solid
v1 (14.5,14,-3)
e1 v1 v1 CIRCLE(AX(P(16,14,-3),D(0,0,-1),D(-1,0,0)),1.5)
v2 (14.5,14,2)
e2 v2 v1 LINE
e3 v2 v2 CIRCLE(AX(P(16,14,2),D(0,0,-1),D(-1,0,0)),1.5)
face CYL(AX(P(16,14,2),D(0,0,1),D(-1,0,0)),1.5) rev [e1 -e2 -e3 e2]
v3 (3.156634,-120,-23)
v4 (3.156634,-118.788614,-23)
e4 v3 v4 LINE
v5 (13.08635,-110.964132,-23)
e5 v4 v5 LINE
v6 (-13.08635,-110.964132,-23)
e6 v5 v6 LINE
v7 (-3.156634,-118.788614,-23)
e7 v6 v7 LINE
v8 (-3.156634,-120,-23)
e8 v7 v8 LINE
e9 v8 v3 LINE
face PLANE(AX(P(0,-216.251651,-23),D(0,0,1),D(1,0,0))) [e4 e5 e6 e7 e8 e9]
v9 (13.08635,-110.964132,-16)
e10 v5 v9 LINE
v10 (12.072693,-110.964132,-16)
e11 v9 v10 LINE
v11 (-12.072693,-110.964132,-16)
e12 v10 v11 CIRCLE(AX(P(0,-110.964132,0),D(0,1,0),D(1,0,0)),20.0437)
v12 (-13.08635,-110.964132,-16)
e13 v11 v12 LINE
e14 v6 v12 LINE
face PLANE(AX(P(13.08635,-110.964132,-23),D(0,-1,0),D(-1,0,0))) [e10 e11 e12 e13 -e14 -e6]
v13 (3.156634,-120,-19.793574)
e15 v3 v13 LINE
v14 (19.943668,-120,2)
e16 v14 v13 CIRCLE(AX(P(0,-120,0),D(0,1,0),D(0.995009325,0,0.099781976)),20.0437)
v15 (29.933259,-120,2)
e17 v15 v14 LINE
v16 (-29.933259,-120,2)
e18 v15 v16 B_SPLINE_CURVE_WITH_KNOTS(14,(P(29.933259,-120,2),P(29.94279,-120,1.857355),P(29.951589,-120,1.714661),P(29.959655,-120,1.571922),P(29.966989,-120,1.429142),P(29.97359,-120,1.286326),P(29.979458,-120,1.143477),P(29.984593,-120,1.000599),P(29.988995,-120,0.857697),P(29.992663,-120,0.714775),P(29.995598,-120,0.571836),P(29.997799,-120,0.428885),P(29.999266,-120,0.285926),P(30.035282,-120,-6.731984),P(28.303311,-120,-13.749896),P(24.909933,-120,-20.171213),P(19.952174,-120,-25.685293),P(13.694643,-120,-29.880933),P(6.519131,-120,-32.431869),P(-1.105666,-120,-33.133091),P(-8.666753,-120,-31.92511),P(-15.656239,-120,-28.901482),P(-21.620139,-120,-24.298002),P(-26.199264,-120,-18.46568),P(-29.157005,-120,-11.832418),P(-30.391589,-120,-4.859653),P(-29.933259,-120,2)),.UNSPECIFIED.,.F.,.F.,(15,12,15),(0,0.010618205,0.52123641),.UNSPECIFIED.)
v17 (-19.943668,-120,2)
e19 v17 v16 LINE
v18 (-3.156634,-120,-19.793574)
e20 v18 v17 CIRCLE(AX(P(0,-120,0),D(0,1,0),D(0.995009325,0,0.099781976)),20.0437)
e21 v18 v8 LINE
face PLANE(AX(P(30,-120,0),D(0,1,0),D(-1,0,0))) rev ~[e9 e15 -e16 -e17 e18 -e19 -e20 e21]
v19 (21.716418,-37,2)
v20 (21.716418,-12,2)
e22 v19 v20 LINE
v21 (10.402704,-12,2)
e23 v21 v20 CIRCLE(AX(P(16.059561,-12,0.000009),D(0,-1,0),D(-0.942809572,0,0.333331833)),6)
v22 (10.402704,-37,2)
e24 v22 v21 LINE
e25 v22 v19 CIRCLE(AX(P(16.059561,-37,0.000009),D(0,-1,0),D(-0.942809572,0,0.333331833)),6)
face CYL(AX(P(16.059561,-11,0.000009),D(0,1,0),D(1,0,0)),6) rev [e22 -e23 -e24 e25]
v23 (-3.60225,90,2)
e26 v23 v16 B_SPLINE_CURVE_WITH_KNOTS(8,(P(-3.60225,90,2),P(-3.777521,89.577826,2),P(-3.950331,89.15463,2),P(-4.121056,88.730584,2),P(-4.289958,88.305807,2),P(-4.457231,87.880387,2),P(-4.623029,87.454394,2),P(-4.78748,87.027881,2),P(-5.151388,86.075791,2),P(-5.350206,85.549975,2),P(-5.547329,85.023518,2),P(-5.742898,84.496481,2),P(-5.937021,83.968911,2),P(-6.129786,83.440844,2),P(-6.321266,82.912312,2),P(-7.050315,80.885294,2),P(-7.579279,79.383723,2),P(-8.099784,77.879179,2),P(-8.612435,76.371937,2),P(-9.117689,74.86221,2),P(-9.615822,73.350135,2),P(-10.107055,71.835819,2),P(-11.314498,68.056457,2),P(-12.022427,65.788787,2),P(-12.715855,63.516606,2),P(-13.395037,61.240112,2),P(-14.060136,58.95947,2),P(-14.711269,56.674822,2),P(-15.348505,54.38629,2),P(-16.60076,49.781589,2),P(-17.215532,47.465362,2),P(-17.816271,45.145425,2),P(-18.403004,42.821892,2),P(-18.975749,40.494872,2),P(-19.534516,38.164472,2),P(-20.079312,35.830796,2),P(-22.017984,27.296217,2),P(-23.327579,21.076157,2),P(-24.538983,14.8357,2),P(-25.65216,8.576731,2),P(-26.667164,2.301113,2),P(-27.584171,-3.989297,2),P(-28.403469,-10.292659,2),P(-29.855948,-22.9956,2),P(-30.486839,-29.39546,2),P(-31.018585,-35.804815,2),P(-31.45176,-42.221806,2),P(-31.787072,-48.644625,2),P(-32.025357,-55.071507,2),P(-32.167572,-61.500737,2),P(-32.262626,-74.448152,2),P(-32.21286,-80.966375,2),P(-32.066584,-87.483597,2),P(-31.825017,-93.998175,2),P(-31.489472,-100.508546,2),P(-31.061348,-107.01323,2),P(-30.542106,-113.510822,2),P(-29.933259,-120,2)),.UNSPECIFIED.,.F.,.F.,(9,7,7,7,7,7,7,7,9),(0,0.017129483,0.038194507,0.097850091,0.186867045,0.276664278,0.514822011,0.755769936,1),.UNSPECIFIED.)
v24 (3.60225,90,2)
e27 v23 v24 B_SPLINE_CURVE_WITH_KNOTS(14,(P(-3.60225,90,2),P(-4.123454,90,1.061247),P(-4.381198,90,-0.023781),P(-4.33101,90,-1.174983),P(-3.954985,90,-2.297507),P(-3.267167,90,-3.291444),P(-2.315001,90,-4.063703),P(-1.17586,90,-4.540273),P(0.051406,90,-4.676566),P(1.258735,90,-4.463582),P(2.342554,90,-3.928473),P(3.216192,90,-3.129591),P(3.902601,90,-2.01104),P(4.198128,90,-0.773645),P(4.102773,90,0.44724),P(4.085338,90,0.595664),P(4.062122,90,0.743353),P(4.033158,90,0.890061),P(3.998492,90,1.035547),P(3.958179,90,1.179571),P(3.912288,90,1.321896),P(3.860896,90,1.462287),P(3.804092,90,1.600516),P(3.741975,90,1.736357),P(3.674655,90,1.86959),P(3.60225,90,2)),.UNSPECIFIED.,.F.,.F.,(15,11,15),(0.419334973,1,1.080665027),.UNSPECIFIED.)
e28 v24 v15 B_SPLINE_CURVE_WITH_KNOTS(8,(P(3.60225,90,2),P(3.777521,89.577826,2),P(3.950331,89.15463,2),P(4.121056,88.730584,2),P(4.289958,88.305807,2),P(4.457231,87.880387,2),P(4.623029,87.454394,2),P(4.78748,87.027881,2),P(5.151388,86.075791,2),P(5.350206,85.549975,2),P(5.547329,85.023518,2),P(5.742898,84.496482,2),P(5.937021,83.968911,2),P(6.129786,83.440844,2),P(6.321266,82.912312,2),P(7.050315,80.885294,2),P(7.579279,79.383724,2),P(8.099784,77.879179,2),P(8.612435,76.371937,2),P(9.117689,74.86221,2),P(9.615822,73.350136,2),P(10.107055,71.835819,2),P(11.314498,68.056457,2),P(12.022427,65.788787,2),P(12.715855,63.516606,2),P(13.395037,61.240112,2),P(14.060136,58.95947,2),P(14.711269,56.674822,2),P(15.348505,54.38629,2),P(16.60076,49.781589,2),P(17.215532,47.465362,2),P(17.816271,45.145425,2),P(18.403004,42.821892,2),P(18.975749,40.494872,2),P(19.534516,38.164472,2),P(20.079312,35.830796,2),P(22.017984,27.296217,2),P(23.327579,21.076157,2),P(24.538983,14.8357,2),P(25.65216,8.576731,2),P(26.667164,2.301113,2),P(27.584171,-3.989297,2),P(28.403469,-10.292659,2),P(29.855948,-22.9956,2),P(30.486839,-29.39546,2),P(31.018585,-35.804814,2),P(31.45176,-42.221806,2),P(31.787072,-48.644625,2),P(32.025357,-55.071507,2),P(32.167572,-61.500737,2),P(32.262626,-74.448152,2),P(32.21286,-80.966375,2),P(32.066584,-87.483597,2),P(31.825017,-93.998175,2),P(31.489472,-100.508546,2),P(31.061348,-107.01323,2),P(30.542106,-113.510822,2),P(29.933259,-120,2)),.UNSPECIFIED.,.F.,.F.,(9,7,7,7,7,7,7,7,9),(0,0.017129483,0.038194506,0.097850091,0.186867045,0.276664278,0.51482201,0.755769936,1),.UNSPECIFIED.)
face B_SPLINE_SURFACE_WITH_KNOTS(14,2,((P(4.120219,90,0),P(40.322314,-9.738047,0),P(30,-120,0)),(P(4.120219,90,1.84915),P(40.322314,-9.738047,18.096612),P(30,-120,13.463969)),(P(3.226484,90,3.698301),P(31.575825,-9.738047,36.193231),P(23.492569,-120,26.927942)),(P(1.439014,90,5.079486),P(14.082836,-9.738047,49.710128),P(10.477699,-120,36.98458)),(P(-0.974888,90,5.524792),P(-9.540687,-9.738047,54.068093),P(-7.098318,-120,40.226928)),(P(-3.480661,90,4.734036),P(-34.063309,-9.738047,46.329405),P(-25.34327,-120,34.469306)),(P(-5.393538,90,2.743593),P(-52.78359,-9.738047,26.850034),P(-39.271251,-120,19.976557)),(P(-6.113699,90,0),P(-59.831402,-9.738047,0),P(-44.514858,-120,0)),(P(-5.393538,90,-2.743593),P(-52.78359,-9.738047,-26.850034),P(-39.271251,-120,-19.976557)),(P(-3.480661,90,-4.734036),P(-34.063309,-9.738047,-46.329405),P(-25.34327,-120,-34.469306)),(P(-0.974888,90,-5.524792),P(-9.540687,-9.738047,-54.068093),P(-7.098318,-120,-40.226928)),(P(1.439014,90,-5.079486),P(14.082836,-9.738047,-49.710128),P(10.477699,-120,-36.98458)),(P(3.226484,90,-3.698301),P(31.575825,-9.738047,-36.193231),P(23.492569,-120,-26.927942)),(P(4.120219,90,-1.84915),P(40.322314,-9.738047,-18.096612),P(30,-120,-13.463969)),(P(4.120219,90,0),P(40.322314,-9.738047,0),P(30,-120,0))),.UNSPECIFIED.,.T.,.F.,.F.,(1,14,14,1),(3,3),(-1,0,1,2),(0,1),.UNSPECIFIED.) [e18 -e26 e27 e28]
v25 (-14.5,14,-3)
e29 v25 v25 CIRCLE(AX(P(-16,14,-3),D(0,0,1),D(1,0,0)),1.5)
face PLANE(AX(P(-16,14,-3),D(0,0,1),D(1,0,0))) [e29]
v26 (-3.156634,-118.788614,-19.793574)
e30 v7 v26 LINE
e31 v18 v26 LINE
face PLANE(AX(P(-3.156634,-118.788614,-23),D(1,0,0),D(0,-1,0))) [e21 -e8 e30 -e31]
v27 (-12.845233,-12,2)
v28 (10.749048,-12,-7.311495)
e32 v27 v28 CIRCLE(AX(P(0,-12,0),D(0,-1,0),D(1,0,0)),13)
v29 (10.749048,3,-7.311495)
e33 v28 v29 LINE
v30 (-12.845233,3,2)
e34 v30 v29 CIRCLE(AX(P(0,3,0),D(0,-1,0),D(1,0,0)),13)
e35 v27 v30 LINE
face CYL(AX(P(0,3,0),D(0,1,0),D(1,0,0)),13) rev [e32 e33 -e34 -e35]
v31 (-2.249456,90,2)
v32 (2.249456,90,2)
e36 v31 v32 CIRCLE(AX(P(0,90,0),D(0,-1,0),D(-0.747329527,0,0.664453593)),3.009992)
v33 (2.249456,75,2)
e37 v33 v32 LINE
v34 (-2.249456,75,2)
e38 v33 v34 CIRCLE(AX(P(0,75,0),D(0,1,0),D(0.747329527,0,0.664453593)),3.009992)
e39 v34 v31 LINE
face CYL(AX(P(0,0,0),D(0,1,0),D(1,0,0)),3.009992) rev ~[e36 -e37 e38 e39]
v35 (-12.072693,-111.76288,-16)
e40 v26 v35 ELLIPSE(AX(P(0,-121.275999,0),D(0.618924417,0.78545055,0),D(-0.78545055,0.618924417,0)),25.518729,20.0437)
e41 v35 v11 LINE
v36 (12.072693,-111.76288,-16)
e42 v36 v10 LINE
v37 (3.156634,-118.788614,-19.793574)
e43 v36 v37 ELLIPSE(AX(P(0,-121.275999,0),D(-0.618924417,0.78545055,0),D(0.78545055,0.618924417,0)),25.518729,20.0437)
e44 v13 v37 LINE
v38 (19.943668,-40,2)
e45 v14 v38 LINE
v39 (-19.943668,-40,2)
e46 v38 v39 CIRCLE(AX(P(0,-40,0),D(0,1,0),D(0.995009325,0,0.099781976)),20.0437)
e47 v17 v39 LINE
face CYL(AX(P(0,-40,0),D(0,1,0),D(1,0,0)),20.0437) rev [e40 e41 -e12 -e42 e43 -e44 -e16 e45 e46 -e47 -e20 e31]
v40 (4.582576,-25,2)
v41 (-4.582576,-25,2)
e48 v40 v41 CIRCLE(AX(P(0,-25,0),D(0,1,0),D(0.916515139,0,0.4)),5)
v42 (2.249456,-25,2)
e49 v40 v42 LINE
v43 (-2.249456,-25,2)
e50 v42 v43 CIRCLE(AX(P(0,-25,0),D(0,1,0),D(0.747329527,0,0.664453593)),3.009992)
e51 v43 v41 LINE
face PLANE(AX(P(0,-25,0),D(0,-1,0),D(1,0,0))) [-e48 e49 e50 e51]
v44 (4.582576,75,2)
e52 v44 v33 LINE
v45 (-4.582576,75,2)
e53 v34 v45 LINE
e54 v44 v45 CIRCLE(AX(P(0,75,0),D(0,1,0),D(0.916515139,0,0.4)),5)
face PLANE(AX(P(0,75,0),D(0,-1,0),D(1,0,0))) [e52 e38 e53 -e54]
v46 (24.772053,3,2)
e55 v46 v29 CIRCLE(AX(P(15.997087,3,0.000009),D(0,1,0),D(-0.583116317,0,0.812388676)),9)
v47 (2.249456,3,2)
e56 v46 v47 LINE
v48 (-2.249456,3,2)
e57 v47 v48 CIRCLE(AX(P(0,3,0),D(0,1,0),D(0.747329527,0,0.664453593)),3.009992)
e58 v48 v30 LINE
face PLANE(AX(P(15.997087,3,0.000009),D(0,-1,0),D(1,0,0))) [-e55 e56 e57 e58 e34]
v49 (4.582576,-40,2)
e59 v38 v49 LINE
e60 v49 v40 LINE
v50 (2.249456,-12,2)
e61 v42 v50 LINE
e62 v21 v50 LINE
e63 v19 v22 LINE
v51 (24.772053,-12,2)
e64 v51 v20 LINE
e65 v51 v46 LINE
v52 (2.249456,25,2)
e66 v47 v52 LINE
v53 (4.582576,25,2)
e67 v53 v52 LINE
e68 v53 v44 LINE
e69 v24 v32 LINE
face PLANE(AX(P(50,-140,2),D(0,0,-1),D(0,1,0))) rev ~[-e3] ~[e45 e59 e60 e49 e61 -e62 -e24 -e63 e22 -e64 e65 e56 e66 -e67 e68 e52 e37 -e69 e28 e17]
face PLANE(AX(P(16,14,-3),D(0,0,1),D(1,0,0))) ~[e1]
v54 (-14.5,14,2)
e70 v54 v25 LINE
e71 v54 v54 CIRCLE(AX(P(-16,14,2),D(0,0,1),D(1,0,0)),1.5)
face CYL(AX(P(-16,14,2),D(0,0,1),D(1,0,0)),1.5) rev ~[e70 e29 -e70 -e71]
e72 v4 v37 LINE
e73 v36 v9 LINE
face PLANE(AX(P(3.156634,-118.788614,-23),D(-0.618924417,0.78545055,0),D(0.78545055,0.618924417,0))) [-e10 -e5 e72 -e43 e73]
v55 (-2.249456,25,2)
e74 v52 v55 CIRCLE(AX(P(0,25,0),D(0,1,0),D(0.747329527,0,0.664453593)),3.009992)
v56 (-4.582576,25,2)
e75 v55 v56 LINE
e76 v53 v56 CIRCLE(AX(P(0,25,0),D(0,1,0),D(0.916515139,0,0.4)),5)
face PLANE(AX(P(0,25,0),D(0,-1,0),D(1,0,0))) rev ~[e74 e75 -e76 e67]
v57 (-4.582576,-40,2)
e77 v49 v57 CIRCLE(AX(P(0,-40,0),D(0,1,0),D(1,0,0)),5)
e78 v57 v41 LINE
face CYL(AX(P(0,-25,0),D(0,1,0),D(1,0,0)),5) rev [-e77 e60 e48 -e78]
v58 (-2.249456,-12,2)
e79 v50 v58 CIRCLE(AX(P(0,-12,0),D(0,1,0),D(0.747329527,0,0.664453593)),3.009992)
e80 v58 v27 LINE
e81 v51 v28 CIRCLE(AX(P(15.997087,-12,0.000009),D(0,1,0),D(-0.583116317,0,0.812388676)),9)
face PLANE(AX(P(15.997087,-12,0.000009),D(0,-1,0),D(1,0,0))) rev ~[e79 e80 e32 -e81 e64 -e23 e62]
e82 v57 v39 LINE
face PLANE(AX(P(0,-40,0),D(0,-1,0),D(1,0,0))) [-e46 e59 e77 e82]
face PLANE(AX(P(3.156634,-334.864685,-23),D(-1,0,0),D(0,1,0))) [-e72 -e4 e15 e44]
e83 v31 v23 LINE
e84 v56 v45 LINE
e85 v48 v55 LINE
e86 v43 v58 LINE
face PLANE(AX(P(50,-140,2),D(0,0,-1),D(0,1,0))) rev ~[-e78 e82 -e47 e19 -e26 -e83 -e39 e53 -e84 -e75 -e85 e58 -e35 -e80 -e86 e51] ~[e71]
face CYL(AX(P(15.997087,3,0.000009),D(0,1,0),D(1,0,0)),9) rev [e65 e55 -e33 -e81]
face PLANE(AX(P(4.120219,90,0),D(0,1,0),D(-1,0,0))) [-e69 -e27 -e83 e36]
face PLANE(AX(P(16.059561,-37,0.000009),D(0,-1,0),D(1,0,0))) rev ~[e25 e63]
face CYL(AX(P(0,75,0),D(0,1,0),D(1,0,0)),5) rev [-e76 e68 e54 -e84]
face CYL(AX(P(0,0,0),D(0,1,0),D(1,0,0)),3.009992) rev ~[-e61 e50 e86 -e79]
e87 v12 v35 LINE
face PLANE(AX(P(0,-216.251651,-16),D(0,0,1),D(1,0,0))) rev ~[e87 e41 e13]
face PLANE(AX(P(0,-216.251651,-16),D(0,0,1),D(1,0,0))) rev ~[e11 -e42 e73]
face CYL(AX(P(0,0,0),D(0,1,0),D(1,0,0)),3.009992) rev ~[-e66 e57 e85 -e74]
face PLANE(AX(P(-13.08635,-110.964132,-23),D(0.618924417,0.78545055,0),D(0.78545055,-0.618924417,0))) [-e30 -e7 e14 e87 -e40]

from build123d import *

# Parameters (mm, degrees)
PAD010_DEPTH      = 7
SKETCH014_R       = 20.0437
PAD009_DEPTH      = 100
PAD_DEPTH         = 10
SKETCH006_R       = 3.009992
PAD002_DEPTH      = 100
FUSION_ROLL_ANGLE = 90
SKETCH011_R       = 5
PAD007_DEPTH      = 50
SKETCH010_R       = 5
PAD006_DEPTH      = 50
SKETCH008_R       = 13
PAD004_DEPTH      = 15
SKETCH009_R       = 9
PAD005_DEPTH      = 15
SKETCH013_R       = 6
PAD008_DEPTH      = 26
BOX_W             = 50
BOX_H             = 240
BOX_DEPTH         = 100
BOX_PITCH_ANGLE   = -90
SKETCH_R          = 4.120219
SKETCH001_R       = 27
SKETCH002_R       = 30
SKETCH015_R       = 1.5
POCKET_DEPTH      = 5


with BuildPart() as pad010:
    # Sketch016 → Pad010 (new body)
    with BuildSketch(Plane(origin=(0, -120, -23), x_dir=(1, 0, 0), z_dir=(0, 0, 1))):
        Polygon((-13.08635, 9.035868), (-3.156634, 1.211386), (-3.156634, -214.864685), (3.156634, -214.864685), (3.156634, 1.211386), (13.08635, 9.035868), align=None)
    extrude(amount=PAD010_DEPTH)


with BuildPart() as buco:
    # Sketch014 → Pad009 (new body)
    with BuildSketch(Plane.XZ.offset(40)):
        Circle(SKETCH014_R)
    extrude(amount=PAD009_DEPTH)


with BuildPart() as pad:
    # InvoluteGear → Pad (new body)
    with BuildSketch(Plane.XY):
        with BuildLine():
            Line((8.355513, -1.029758), (9.548181, -1.175965))
            add(Edge.make_bspline(
                [(9.548181, -1.175965), (9.5967, -1.178924), (9.742908, -1.18188), (9.988316, -1.135943)],
                knots=[0, 0, 0, 0, 1, 1, 1, 1], degree=3))
            add(Edge.make_bspline(
                [(9.988316, -1.135943), (10.281884, -1.080014), (10.705563, -0.954393), (11.230767, -0.676657)],
                knots=[0, 0, 0, 0, 1, 1, 1, 1], degree=3))
            ThreePointArc((11.230767, -0.676657), (11.251135, 0), (11.230767, 0.676657))
            add(Edge.make_bspline(
                [(11.230767, 0.676657), (10.705563, 0.954393), (10.281884, 1.080014), (9.988316, 1.135943)],
                knots=[0, 0, 0, 0, 1, 1, 1, 1], degree=3))
            add(Edge.make_bspline(
                [(9.988316, 1.135943), (9.742908, 1.18188), (9.5967, 1.178924), (9.548181, 1.175965)],
                knots=[0, 0, 0, 0, 1, 1, 1, 1], degree=3))
            Line((9.548181, 1.175965), (8.355513, 1.029758))
            ThreePointArc((8.355513, 1.029758), (7.956052, 1.132981), (7.734481, 1.48102))
            ThreePointArc((7.734481, 1.48102), (7.646167, 1.884611), (7.536808, 2.283014))
            ThreePointArc((7.536808, 2.283014), (7.571257, 2.694156), (7.876992, 2.971196))
            Line((7.876992, 2.971196), (9.000992, 3.395996))
            add(Edge.make_bspline(
                [(9.000992, 3.395996), (9.04533, 3.415923), (9.176163, 3.481252), (9.372113, 3.635975)],
                knots=[0, 0, 0, 0, 1, 1, 1, 1], degree=3))
            add(Edge.make_bspline(
                [(9.372113, 3.635975), (9.606064, 3.821924), (9.922834, 4.130051), (10.258808, 4.620047)],
                knots=[0, 0, 0, 0, 1, 1, 1, 1], degree=3))
            ThreePointArc((10.258808, 4.620047), (9.962385, 5.228663), (9.629892, 5.818348))
            add(Edge.make_bspline(
                [(9.629892, 5.818348), (9.035777, 5.820196), (8.602248, 5.734535), (8.316315, 5.647629)],
                knots=[0, 0, 0, 0, 1, 1, 1, 1], degree=3))
            add(Edge.make_bspline(
                [(8.316315, 5.647629), (8.077669, 5.574257), (7.949583, 5.503695), (7.907996, 5.478526)],
                knots=[0, 0, 0, 0, 1, 1, 1, 1], degree=3))
            Line((7.907996, 5.478526), (6.919887, 4.794806))
            ThreePointArc((6.919887, 4.794806), (6.518211, 4.700567), (6.160279, 4.905771))
            ThreePointArc((6.160279, 4.905771), (5.894522, 5.222091), (5.612542, 5.524038))
            ThreePointArc((5.612542, 5.524038), (5.451978, 5.904095), (5.593946, 6.291484))
            Line((5.593946, 6.291484), (6.391785, 7.189975))
            add(Edge.make_bspline(
                [(6.391785, 7.189975), (6.421783, 7.228224), (6.50727, 7.346872), (6.608872, 7.574934)],
                knots=[0, 0, 0, 0, 1, 1, 1, 1], degree=3))
            add(Edge.make_bspline(
                [(6.608872, 7.574934), (6.72961, 7.848306), (6.866903, 8.268349), (6.936681, 8.858355)],
                knots=[0, 0, 0, 0, 1, 1, 1, 1], degree=3))
            ThreePointArc((6.936681, 8.858355), (6.391373, 9.259502), (5.822925, 9.627125))
            add(Edge.make_bspline(
                [(5.822925, 9.627125), (5.296003, 9.352662), (4.951941, 9.075343), (4.739148, 8.865511)],
                knots=[0, 0, 0, 0, 1, 1, 1, 1], degree=3))
            add(Edge.make_bspline(
                [(4.739148, 8.865511), (4.561934, 8.68964), (4.481311, 8.567635), (4.456185, 8.526023)],
                knots=[0, 0, 0, 0, 1, 1, 1, 1], degree=3))
            Line((4.456185, 8.526023), (3.898999, 7.461421))
            ThreePointArc((3.898999, 7.461421), (3.587127, 7.191309), (3.17483, 7.206669))
            ThreePointArc((3.17483, 7.206669), (2.792513, 7.363253), (2.402511, 7.499571))
            ThreePointArc((2.402511, 7.499571), (2.083717, 7.761477), (2.029395, 8.170468))
            Line((2.029395, 8.170468), (2.318297, 9.336817))
            add(Edge.make_bspline(
                [(2.318297, 9.336817), (2.327083, 9.384626), (2.34764, 9.529411), (2.331619, 9.778567)],
                knots=[0, 0, 0, 0, 1, 1, 1, 1], degree=3))
            add(Edge.make_bspline(
                [(2.331619, 9.778567), (2.311484, 10.076736), (2.237847, 10.512468), (2.025443, 11.06732)],
                knots=[0, 0, 0, 0, 1, 1, 1, 1], degree=3))
            ThreePointArc((2.025443, 11.06732), (1.356174, 11.169101), (0.681996, 11.230444))
            add(Edge.make_bspline(
                [(0.681996, 11.230444), (0.342979, 10.742547), (0.167204, 10.337099), (0.076298, 10.052412)],
                knots=[0, 0, 0, 0, 1, 1, 1, 1], degree=3))
            add(Edge.make_bspline(
                [(0.076298, 10.052412), (0.001115, 9.814331), (-0.013574, 9.668833), (-0.016485, 9.620311)],
                knots=[0, 0, 0, 0, 1, 1, 1, 1], degree=3))
            Line((-0.016485, 9.620311), (-0.015104, 8.418716))
            ThreePointArc((-0.015104, 8.418716), (-0.165725, 8.034609), (-0.537933, 7.856606))
            ThreePointArc((-0.537933, 7.856606), (-0.949226, 7.817582), (-1.357907, 7.757043))
            ThreePointArc((-1.357907, 7.757043), (-1.761899, 7.840798), (-2.000066, 8.177698))
            Line((-2.000066, 8.177698), (-2.286285, 9.344707))
            add(Edge.make_bspline(
                [(-2.286285, 9.344707), (-2.300723, 9.391123), (-2.349806, 9.528877), (-2.479781, 9.742048)],
                knots=[0, 0, 0, 0, 1, 1, 1, 1], degree=3))
            add(Edge.make_bspline(
                [(-2.479781, 9.742048), (-2.636175, 9.996707), (-2.903872, 10.348308), (-3.349799, 10.740895)],
                knots=[0, 0, 0, 0, 1, 1, 1, 1], degree=3))
            ThreePointArc((-3.349799, 10.740895), (-3.989707, 10.519994), (-4.61517, 10.261003))
            add(Edge.make_bspline(
                [(-4.61517, 10.261003), (-4.688617, 9.671443), (-4.655837, 9.23075), (-4.60403, 8.936427)],
                knots=[0, 0, 0, 0, 1, 1, 1, 1], degree=3))
            add(Edge.make_bspline(
                [(-4.60403, 8.936427), (-4.559959, 8.690677), (-4.50535, 8.555018), (-4.485378, 8.510701)],
                knots=[0, 0, 0, 0, 1, 1, 1, 1], degree=3))
            Line((-4.485378, 8.510701), (-3.925746, 7.447383))
            ThreePointArc((-3.925746, 7.447383), (-3.880611, 7.037277), (-4.127463, 6.706689))
            ThreePointArc((-4.127463, 6.706689), (-4.47351, 6.480998), (-4.807244, 6.23747))
            ThreePointArc((-4.807244, 6.23747), (-5.203885, 6.123887), (-5.571336, 6.311515))
            Line((-5.571336, 6.311515), (-6.367107, 7.211837))
            add(Edge.make_bspline(
                [(-6.367107, 7.211837), (-6.401462, 7.246227), (-6.50894, 7.345392), (-6.723092, 7.473744)],
                knots=[0, 0, 0, 0, 1, 1, 1, 1], degree=3))
            add(Edge.make_bspline(
                [(-6.723092, 7.473744), (-6.979918, 7.626553), (-7.38035, 7.813474), (-7.957643, 7.953861)],
                knots=[0, 0, 0, 0, 1, 1, 1, 1], degree=3))
            ThreePointArc((-7.957643, 7.953861), (-8.421595, 7.460882), (-8.855056, 6.940891))
            add(Edge.make_bspline(
                [(-8.855056, 6.940891), (-8.646108, 6.384728), (-8.412283, 6.009748), (-8.229631, 5.773213)],
                knots=[0, 0, 0, 0, 1, 1, 1, 1], degree=3))
            add(Edge.make_bspline(
                [(-8.229631, 5.773213), (-8.076402, 5.576093), (-7.965005, 5.481352), (-7.926725, 5.451393)],
                knots=[0, 0, 0, 0, 1, 1, 1, 1], degree=3))
            Line((-7.926725, 5.451393), (-6.937047, 4.769945))
            ThreePointArc((-6.937047, 4.769945), (-6.706496, 4.427789), (-6.771441, 4.02035))
            ThreePointArc((-6.771441, 4.02035), (-6.972966, 3.659695), (-7.1553, 3.288967))
            ThreePointArc((-7.1553, 3.288967), (-7.453723, 3.004067), (-7.86628, 2.99944))
            Line((-7.86628, 2.99944), (-8.989301, 3.426823))
            add(Edge.make_bspline(
                [(-8.989301, 3.426823), (-9.035703, 3.441308), (-9.176954, 3.479167), (-9.426224, 3.493294)],
                knots=[0, 0, 0, 0, 1, 1, 1, 1], degree=3))
            add(Edge.make_bspline(
                [(-9.426224, 3.493294), (-9.724647, 3.509247), (-10.166078, 3.488669), (-10.742486, 3.344693)],
                knots=[0, 0, 0, 0, 1, 1, 1, 1], degree=3))
            ThreePointArc((-10.742486, 3.344693), (-10.924197, 2.692573), (-11.066356, 2.030704))
            add(Edge.make_bspline(
                [(-11.066356, 2.030704), (-10.62288, 1.635349), (-10.241575, 1.411985), (-9.969922, 1.287426)],
                knots=[0, 0, 0, 0, 1, 1, 1, 1], degree=3))
            add(Edge.make_bspline(
                [(-9.969922, 1.287426), (-9.742639, 1.184094), (-9.599973, 1.151974), (-9.552155, 1.143236)],
                knots=[0, 0, 0, 0, 1, 1, 1, 1], degree=3))
            Line((-9.552155, 1.143236), (-8.359154, 0.99977))
            ThreePointArc((-8.359154, 0.99977), (-7.996004, 0.803949), (-7.864163, 0.412998))
            ThreePointArc((-7.864163, 0.412998), (-7.875, 0), (-7.864163, -0.412998))
            ThreePointArc((-7.864163, -0.412998), (-7.996004, -0.803949), (-8.359154, -0.99977))
            Line((-8.359154, -0.99977), (-9.552155, -1.143236))
            add(Edge.make_bspline(
                [(-9.552155, -1.143236), (-9.599973, -1.151974), (-9.742639, -1.184094), (-9.969922, -1.287426)],
                knots=[0, 0, 0, 0, 1, 1, 1, 1], degree=3))
            add(Edge.make_bspline(
                [(-9.969922, -1.287426), (-10.241575, -1.411985), (-10.62288, -1.635349), (-11.066356, -2.030704)],
                knots=[0, 0, 0, 0, 1, 1, 1, 1], degree=3))
            ThreePointArc((-11.066356, -2.030704), (-10.924197, -2.692573), (-10.742486, -3.344693))
            add(Edge.make_bspline(
                [(-10.742486, -3.344693), (-10.166078, -3.488669), (-9.724647, -3.509247), (-9.426224, -3.493294)],
                knots=[0, 0, 0, 0, 1, 1, 1, 1], degree=3))
            add(Edge.make_bspline(
                [(-9.426224, -3.493294), (-9.176954, -3.479167), (-9.035703, -3.441308), (-8.989301, -3.426823)],
                knots=[0, 0, 0, 0, 1, 1, 1, 1], degree=3))
            Line((-8.989301, -3.426823), (-7.86628, -2.99944))
            ThreePointArc((-7.86628, -2.99944), (-7.453723, -3.004067), (-7.1553, -3.288967))
            ThreePointArc((-7.1553, -3.288967), (-6.972966, -3.659695), (-6.771441, -4.02035))
            ThreePointArc((-6.771441, -4.02035), (-6.706496, -4.427789), (-6.937047, -4.769945))
            Line((-6.937047, -4.769945), (-7.926725, -5.451393))
            add(Edge.make_bspline(
                [(-7.926725, -5.451393), (-7.965005, -5.481352), (-8.076402, -5.576093), (-8.229631, -5.773213)],
                knots=[0, 0, 0, 0, 1, 1, 1, 1], degree=3))
            add(Edge.make_bspline(
                [(-8.229631, -5.773213), (-8.412283, -6.009748), (-8.646108, -6.384728), (-8.855056, -6.940891)],
                knots=[0, 0, 0, 0, 1, 1, 1, 1], degree=3))
            ThreePointArc((-8.855056, -6.940891), (-8.421595, -7.460882), (-7.957643, -7.953861))
            add(Edge.make_bspline(
                [(-7.957643, -7.953861), (-7.38035, -7.813474), (-6.979918, -7.626553), (-6.723092, -7.473744)],
                knots=[0, 0, 0, 0, 1, 1, 1, 1], degree=3))
            add(Edge.make_bspline(
                [(-6.723092, -7.473744), (-6.50894, -7.345392), (-6.401462, -7.246227), (-6.367107, -7.211837)],
                knots=[0, 0, 0, 0, 1, 1, 1, 1], degree=3))
            Line((-6.367107, -7.211837), (-5.571336, -6.311515))
            ThreePointArc((-5.571336, -6.311515), (-5.203885, -6.123887), (-4.807244, -6.23747))
            ThreePointArc((-4.807244, -6.23747), (-4.47351, -6.480998), (-4.127463, -6.706689))
            ThreePointArc((-4.127463, -6.706689), (-3.880611, -7.037277), (-3.925746, -7.447383))
            Line((-3.925746, -7.447383), (-4.485378, -8.510701))
            add(Edge.make_bspline(
                [(-4.485378, -8.510701), (-4.50535, -8.555018), (-4.559959, -8.690677), (-4.60403, -8.936427)],
                knots=[0, 0, 0, 0, 1, 1, 1, 1], degree=3))
            add(Edge.make_bspline(
                [(-4.60403, -8.936427), (-4.655837, -9.23075), (-4.688617, -9.671443), (-4.61517, -10.261003)],
                knots=[0, 0, 0, 0, 1, 1, 1, 1], degree=3))
            ThreePointArc((-4.61517, -10.261003), (-3.989707, -10.519994), (-3.349799, -10.740895))
            add(Edge.make_bspline(
                [(-3.349799, -10.740895), (-2.903872, -10.348308), (-2.636175, -9.996707), (-2.479781, -9.742048)],
                knots=[0, 0, 0, 0, 1, 1, 1, 1], degree=3))
            add(Edge.make_bspline(
                [(-2.479781, -9.742048), (-2.349806, -9.528877), (-2.300723, -9.391123), (-2.286285, -9.344707)],
                knots=[0, 0, 0, 0, 1, 1, 1, 1], degree=3))
            Line((-2.286285, -9.344707), (-2.000066, -8.177698))
            ThreePointArc((-2.000066, -8.177698), (-1.761899, -7.840798), (-1.357907, -7.757043))
            ThreePointArc((-1.357907, -7.757043), (-0.949226, -7.817582), (-0.537933, -7.856606))
            ThreePointArc((-0.537933, -7.856606), (-0.165725, -8.034609), (-0.015104, -8.418716))
            Line((-0.015104, -8.418716), (-0.016485, -9.620311))
            add(Edge.make_bspline(
                [(-0.016485, -9.620311), (-0.013574, -9.668833), (0.001115, -9.814331), (0.076298, -10.052412)],
                knots=[0, 0, 0, 0, 1, 1, 1, 1], degree=3))
            add(Edge.make_bspline(
                [(0.076298, -10.052412), (0.167204, -10.337099), (0.342979, -10.742547), (0.681996, -11.230444)],
                knots=[0, 0, 0, 0, 1, 1, 1, 1], degree=3))
            ThreePointArc((0.681996, -11.230444), (1.356174, -11.169101), (2.025443, -11.06732))
            add(Edge.make_bspline(
                [(2.025443, -11.06732), (2.237847, -10.512468), (2.311484, -10.076736), (2.331619, -9.778567)],
                knots=[0, 0, 0, 0, 1, 1, 1, 1], degree=3))
            add(Edge.make_bspline(
                [(2.331619, -9.778567), (2.34764, -9.529411), (2.327083, -9.384626), (2.318297, -9.336817)],
                knots=[0, 0, 0, 0, 1, 1, 1, 1], degree=3))
            Line((2.318297, -9.336817), (2.029395, -8.170468))
            ThreePointArc((2.029395, -8.170468), (2.083717, -7.761477), (2.402511, -7.499571))
            ThreePointArc((2.402511, -7.499571), (2.792513, -7.363253), (3.17483, -7.206669))
            ThreePointArc((3.17483, -7.206669), (3.587127, -7.191309), (3.898999, -7.461421))
            Line((3.898999, -7.461421), (4.456185, -8.526023))
            add(Edge.make_bspline(
                [(4.456185, -8.526023), (4.481311, -8.567635), (4.561934, -8.68964), (4.739148, -8.865511)],
                knots=[0, 0, 0, 0, 1, 1, 1, 1], degree=3))
            add(Edge.make_bspline(
                [(4.739148, -8.865511), (4.951941, -9.075343), (5.296003, -9.352662), (5.822925, -9.627125)],
                knots=[0, 0, 0, 0, 1, 1, 1, 1], degree=3))
            ThreePointArc((5.822925, -9.627125), (6.391373, -9.259502), (6.936681, -8.858355))
            add(Edge.make_bspline(
                [(6.936681, -8.858355), (6.866903, -8.268349), (6.72961, -7.848306), (6.608872, -7.574934)],
                knots=[0, 0, 0, 0, 1, 1, 1, 1], degree=3))
            add(Edge.make_bspline(
                [(6.608872, -7.574934), (6.50727, -7.346872), (6.421783, -7.228224), (6.391785, -7.189975)],
                knots=[0, 0, 0, 0, 1, 1, 1, 1], degree=3))
            Line((6.391785, -7.189975), (5.593946, -6.291484))
            ThreePointArc((5.593946, -6.291484), (5.451978, -5.904095), (5.612542, -5.524038))
            ThreePointArc((5.612542, -5.524038), (5.894522, -5.222091), (6.160279, -4.905771))
            ThreePointArc((6.160279, -4.905771), (6.518211, -4.700567), (6.919887, -4.794806))
            Line((6.919887, -4.794806), (7.907996, -5.478526))
            add(Edge.make_bspline(
                [(7.907996, -5.478526), (7.949583, -5.503695), (8.077669, -5.574257), (8.316315, -5.647629)],
                knots=[0, 0, 0, 0, 1, 1, 1, 1], degree=3))
            add(Edge.make_bspline(
                [(8.316315, -5.647629), (8.602248, -5.734535), (9.035777, -5.820196), (9.629892, -5.818348)],
                knots=[0, 0, 0, 0, 1, 1, 1, 1], degree=3))
            ThreePointArc((9.629892, -5.818348), (9.962385, -5.228663), (10.258808, -4.620047))
            add(Edge.make_bspline(
                [(10.258808, -4.620047), (9.922834, -4.130051), (9.606064, -3.821924), (9.372113, -3.635975)],
                knots=[0, 0, 0, 0, 1, 1, 1, 1], degree=3))
            add(Edge.make_bspline(
                [(9.372113, -3.635975), (9.176163, -3.481252), (9.04533, -3.415923), (9.000992, -3.395996)],
                knots=[0, 0, 0, 0, 1, 1, 1, 1], degree=3))
            Line((9.000992, -3.395996), (7.876992, -2.971196))
            ThreePointArc((7.876992, -2.971196), (7.571257, -2.694156), (7.536808, -2.283014))
            ThreePointArc((7.536808, -2.283014), (7.646167, -1.884611), (7.734481, -1.48102))
            ThreePointArc((7.734481, -1.48102), (7.956052, -1.132981), (8.355513, -1.029758))
        make_face()
    extrude(amount=PAD_DEPTH)


with BuildPart() as ingranaggio_senza_buco:
    # Sketch006 → Pad002 (new body, symmetric)
    with BuildSketch(Plane(origin=(0, 0, 0), x_dir=(1, 0, 0), z_dir=(0, 0, -1))):
        Circle(SKETCH006_R)
    extrude(amount=PAD002_DEPTH, both=True)

    # Fusion: union Pad
    add(pad.part)


with BuildPart() as ingranaggio_senza_buco_1:
    # Fusion roll: moved
    add(ingranaggio_senza_buco.part.rotate(Axis((0, 0, 0), (1, 0, 0)), FUSION_ROLL_ANGLE))


with BuildPart() as ingranaggio_senza_buco_2:
    # Fusion placement: moved
    add(ingranaggio_senza_buco_1.part)

    # Cut005: cut buco
    add(buco.part, mode=Mode.SUBTRACT)


with BuildPart() as pad007:
    # Sketch011 → Pad007 (new body)
    with BuildSketch(Plane.XZ.offset(-75)):
        Circle(SKETCH011_R)
    extrude(amount=PAD007_DEPTH)


with BuildPart() as scassi_perno:
    # Sketch010 → Pad006 (new body)
    with BuildSketch(Plane.XZ.offset(25)):
        Circle(SKETCH010_R)
    extrude(amount=PAD006_DEPTH)

    # Fusion002: union Pad007
    add(pad007.part)


with BuildPart() as scasso_ruota_dentata:
    # Sketch008 → Pad004 (new body)
    with BuildSketch(Plane.XZ.offset(-3)):
        Circle(SKETCH008_R)
    extrude(amount=PAD004_DEPTH)


with BuildPart() as scassi_ruote_dentate:
    # Sketch009 → Pad005 (new body)
    with BuildSketch(Plane.XZ.offset(-3)):
        with Locations((15.997087, 9e-06)):
            Circle(SKETCH009_R)
    extrude(amount=PAD005_DEPTH)

    # Fusion001: union scasso_ruota_dentata
    add(scasso_ruota_dentata.part)


with BuildPart() as scassi_tutti:
    # Sketch013 → Pad008 (new body)
    with BuildSketch(Plane.XZ.offset(11)):
        with Locations((16.059561, 9e-06)):
            Circle(SKETCH013_R)
    extrude(amount=PAD008_DEPTH)

    # Fusion005: union scassi_perno, scassi_ruote_dentate
    add(scassi_perno.part)
    add(scassi_ruote_dentate.part)


with BuildPart() as cubo:
    # Box → Box (new body)
    with BuildSketch(Plane.XY):
        with Locations((25, 120)):
            Rectangle(BOX_W, BOX_H)
    extrude(amount=BOX_DEPTH)


with BuildPart() as cubo_1:
    # Box pitch: moved
    add(cubo.part.rotate(Axis((0, 0, 0), (0, 1, 0)), BOX_PITCH_ANGLE))


with BuildPart() as cubo_2:
    # Box placement: moved
    add(cubo_1.part.moved(Location((50, -140, 2))))


with BuildPart() as solo_corpo_con_scasso_prolunga:
    # Sketch → Loft section 0
    with BuildSketch(Plane.XZ.offset(-90)):
        Circle(SKETCH_R)
    # Sketch001 → Loft section 1
    with BuildSketch(Plane.XZ):
        Circle(SKETCH001_R)
    # Sketch002 → Loft section 2
    with BuildSketch(Plane.XZ.offset(120)):
        Circle(SKETCH002_R)
    loft()

    # Cut: cut Cubo
    add(cubo_2.part, mode=Mode.SUBTRACT)

    # Cut001: cut scassi_tutti
    add(scassi_tutti.part, mode=Mode.SUBTRACT)

    # Cut003: cut buco
    add(buco.part, mode=Mode.SUBTRACT)

    # Cut006: cut ingranaggio_senza_buco
    add(ingranaggio_senza_buco_2.part, mode=Mode.SUBTRACT)

    # Sketch015 → Pocket (cut)
    with BuildSketch(Plane.XY.offset(2)):
        with Locations((-16, 14)):
            Circle(SKETCH015_R)
    pocket = extrude(amount=-POCKET_DEPTH, mode=Mode.SUBTRACT)

    # Mirrored: Pocket across Sketch015 V_Axis
    add(pocket.mirror(Plane(origin=(0, 0, 2), x_dir=(0, 0, 1), z_dir=(1, 0, 0))), mode=Mode.SUBTRACT)

    # Cut007: cut Pad010
    add(pad010.part, mode=Mode.SUBTRACT)


solid = solo_corpo_con_scasso_prolunga.part
